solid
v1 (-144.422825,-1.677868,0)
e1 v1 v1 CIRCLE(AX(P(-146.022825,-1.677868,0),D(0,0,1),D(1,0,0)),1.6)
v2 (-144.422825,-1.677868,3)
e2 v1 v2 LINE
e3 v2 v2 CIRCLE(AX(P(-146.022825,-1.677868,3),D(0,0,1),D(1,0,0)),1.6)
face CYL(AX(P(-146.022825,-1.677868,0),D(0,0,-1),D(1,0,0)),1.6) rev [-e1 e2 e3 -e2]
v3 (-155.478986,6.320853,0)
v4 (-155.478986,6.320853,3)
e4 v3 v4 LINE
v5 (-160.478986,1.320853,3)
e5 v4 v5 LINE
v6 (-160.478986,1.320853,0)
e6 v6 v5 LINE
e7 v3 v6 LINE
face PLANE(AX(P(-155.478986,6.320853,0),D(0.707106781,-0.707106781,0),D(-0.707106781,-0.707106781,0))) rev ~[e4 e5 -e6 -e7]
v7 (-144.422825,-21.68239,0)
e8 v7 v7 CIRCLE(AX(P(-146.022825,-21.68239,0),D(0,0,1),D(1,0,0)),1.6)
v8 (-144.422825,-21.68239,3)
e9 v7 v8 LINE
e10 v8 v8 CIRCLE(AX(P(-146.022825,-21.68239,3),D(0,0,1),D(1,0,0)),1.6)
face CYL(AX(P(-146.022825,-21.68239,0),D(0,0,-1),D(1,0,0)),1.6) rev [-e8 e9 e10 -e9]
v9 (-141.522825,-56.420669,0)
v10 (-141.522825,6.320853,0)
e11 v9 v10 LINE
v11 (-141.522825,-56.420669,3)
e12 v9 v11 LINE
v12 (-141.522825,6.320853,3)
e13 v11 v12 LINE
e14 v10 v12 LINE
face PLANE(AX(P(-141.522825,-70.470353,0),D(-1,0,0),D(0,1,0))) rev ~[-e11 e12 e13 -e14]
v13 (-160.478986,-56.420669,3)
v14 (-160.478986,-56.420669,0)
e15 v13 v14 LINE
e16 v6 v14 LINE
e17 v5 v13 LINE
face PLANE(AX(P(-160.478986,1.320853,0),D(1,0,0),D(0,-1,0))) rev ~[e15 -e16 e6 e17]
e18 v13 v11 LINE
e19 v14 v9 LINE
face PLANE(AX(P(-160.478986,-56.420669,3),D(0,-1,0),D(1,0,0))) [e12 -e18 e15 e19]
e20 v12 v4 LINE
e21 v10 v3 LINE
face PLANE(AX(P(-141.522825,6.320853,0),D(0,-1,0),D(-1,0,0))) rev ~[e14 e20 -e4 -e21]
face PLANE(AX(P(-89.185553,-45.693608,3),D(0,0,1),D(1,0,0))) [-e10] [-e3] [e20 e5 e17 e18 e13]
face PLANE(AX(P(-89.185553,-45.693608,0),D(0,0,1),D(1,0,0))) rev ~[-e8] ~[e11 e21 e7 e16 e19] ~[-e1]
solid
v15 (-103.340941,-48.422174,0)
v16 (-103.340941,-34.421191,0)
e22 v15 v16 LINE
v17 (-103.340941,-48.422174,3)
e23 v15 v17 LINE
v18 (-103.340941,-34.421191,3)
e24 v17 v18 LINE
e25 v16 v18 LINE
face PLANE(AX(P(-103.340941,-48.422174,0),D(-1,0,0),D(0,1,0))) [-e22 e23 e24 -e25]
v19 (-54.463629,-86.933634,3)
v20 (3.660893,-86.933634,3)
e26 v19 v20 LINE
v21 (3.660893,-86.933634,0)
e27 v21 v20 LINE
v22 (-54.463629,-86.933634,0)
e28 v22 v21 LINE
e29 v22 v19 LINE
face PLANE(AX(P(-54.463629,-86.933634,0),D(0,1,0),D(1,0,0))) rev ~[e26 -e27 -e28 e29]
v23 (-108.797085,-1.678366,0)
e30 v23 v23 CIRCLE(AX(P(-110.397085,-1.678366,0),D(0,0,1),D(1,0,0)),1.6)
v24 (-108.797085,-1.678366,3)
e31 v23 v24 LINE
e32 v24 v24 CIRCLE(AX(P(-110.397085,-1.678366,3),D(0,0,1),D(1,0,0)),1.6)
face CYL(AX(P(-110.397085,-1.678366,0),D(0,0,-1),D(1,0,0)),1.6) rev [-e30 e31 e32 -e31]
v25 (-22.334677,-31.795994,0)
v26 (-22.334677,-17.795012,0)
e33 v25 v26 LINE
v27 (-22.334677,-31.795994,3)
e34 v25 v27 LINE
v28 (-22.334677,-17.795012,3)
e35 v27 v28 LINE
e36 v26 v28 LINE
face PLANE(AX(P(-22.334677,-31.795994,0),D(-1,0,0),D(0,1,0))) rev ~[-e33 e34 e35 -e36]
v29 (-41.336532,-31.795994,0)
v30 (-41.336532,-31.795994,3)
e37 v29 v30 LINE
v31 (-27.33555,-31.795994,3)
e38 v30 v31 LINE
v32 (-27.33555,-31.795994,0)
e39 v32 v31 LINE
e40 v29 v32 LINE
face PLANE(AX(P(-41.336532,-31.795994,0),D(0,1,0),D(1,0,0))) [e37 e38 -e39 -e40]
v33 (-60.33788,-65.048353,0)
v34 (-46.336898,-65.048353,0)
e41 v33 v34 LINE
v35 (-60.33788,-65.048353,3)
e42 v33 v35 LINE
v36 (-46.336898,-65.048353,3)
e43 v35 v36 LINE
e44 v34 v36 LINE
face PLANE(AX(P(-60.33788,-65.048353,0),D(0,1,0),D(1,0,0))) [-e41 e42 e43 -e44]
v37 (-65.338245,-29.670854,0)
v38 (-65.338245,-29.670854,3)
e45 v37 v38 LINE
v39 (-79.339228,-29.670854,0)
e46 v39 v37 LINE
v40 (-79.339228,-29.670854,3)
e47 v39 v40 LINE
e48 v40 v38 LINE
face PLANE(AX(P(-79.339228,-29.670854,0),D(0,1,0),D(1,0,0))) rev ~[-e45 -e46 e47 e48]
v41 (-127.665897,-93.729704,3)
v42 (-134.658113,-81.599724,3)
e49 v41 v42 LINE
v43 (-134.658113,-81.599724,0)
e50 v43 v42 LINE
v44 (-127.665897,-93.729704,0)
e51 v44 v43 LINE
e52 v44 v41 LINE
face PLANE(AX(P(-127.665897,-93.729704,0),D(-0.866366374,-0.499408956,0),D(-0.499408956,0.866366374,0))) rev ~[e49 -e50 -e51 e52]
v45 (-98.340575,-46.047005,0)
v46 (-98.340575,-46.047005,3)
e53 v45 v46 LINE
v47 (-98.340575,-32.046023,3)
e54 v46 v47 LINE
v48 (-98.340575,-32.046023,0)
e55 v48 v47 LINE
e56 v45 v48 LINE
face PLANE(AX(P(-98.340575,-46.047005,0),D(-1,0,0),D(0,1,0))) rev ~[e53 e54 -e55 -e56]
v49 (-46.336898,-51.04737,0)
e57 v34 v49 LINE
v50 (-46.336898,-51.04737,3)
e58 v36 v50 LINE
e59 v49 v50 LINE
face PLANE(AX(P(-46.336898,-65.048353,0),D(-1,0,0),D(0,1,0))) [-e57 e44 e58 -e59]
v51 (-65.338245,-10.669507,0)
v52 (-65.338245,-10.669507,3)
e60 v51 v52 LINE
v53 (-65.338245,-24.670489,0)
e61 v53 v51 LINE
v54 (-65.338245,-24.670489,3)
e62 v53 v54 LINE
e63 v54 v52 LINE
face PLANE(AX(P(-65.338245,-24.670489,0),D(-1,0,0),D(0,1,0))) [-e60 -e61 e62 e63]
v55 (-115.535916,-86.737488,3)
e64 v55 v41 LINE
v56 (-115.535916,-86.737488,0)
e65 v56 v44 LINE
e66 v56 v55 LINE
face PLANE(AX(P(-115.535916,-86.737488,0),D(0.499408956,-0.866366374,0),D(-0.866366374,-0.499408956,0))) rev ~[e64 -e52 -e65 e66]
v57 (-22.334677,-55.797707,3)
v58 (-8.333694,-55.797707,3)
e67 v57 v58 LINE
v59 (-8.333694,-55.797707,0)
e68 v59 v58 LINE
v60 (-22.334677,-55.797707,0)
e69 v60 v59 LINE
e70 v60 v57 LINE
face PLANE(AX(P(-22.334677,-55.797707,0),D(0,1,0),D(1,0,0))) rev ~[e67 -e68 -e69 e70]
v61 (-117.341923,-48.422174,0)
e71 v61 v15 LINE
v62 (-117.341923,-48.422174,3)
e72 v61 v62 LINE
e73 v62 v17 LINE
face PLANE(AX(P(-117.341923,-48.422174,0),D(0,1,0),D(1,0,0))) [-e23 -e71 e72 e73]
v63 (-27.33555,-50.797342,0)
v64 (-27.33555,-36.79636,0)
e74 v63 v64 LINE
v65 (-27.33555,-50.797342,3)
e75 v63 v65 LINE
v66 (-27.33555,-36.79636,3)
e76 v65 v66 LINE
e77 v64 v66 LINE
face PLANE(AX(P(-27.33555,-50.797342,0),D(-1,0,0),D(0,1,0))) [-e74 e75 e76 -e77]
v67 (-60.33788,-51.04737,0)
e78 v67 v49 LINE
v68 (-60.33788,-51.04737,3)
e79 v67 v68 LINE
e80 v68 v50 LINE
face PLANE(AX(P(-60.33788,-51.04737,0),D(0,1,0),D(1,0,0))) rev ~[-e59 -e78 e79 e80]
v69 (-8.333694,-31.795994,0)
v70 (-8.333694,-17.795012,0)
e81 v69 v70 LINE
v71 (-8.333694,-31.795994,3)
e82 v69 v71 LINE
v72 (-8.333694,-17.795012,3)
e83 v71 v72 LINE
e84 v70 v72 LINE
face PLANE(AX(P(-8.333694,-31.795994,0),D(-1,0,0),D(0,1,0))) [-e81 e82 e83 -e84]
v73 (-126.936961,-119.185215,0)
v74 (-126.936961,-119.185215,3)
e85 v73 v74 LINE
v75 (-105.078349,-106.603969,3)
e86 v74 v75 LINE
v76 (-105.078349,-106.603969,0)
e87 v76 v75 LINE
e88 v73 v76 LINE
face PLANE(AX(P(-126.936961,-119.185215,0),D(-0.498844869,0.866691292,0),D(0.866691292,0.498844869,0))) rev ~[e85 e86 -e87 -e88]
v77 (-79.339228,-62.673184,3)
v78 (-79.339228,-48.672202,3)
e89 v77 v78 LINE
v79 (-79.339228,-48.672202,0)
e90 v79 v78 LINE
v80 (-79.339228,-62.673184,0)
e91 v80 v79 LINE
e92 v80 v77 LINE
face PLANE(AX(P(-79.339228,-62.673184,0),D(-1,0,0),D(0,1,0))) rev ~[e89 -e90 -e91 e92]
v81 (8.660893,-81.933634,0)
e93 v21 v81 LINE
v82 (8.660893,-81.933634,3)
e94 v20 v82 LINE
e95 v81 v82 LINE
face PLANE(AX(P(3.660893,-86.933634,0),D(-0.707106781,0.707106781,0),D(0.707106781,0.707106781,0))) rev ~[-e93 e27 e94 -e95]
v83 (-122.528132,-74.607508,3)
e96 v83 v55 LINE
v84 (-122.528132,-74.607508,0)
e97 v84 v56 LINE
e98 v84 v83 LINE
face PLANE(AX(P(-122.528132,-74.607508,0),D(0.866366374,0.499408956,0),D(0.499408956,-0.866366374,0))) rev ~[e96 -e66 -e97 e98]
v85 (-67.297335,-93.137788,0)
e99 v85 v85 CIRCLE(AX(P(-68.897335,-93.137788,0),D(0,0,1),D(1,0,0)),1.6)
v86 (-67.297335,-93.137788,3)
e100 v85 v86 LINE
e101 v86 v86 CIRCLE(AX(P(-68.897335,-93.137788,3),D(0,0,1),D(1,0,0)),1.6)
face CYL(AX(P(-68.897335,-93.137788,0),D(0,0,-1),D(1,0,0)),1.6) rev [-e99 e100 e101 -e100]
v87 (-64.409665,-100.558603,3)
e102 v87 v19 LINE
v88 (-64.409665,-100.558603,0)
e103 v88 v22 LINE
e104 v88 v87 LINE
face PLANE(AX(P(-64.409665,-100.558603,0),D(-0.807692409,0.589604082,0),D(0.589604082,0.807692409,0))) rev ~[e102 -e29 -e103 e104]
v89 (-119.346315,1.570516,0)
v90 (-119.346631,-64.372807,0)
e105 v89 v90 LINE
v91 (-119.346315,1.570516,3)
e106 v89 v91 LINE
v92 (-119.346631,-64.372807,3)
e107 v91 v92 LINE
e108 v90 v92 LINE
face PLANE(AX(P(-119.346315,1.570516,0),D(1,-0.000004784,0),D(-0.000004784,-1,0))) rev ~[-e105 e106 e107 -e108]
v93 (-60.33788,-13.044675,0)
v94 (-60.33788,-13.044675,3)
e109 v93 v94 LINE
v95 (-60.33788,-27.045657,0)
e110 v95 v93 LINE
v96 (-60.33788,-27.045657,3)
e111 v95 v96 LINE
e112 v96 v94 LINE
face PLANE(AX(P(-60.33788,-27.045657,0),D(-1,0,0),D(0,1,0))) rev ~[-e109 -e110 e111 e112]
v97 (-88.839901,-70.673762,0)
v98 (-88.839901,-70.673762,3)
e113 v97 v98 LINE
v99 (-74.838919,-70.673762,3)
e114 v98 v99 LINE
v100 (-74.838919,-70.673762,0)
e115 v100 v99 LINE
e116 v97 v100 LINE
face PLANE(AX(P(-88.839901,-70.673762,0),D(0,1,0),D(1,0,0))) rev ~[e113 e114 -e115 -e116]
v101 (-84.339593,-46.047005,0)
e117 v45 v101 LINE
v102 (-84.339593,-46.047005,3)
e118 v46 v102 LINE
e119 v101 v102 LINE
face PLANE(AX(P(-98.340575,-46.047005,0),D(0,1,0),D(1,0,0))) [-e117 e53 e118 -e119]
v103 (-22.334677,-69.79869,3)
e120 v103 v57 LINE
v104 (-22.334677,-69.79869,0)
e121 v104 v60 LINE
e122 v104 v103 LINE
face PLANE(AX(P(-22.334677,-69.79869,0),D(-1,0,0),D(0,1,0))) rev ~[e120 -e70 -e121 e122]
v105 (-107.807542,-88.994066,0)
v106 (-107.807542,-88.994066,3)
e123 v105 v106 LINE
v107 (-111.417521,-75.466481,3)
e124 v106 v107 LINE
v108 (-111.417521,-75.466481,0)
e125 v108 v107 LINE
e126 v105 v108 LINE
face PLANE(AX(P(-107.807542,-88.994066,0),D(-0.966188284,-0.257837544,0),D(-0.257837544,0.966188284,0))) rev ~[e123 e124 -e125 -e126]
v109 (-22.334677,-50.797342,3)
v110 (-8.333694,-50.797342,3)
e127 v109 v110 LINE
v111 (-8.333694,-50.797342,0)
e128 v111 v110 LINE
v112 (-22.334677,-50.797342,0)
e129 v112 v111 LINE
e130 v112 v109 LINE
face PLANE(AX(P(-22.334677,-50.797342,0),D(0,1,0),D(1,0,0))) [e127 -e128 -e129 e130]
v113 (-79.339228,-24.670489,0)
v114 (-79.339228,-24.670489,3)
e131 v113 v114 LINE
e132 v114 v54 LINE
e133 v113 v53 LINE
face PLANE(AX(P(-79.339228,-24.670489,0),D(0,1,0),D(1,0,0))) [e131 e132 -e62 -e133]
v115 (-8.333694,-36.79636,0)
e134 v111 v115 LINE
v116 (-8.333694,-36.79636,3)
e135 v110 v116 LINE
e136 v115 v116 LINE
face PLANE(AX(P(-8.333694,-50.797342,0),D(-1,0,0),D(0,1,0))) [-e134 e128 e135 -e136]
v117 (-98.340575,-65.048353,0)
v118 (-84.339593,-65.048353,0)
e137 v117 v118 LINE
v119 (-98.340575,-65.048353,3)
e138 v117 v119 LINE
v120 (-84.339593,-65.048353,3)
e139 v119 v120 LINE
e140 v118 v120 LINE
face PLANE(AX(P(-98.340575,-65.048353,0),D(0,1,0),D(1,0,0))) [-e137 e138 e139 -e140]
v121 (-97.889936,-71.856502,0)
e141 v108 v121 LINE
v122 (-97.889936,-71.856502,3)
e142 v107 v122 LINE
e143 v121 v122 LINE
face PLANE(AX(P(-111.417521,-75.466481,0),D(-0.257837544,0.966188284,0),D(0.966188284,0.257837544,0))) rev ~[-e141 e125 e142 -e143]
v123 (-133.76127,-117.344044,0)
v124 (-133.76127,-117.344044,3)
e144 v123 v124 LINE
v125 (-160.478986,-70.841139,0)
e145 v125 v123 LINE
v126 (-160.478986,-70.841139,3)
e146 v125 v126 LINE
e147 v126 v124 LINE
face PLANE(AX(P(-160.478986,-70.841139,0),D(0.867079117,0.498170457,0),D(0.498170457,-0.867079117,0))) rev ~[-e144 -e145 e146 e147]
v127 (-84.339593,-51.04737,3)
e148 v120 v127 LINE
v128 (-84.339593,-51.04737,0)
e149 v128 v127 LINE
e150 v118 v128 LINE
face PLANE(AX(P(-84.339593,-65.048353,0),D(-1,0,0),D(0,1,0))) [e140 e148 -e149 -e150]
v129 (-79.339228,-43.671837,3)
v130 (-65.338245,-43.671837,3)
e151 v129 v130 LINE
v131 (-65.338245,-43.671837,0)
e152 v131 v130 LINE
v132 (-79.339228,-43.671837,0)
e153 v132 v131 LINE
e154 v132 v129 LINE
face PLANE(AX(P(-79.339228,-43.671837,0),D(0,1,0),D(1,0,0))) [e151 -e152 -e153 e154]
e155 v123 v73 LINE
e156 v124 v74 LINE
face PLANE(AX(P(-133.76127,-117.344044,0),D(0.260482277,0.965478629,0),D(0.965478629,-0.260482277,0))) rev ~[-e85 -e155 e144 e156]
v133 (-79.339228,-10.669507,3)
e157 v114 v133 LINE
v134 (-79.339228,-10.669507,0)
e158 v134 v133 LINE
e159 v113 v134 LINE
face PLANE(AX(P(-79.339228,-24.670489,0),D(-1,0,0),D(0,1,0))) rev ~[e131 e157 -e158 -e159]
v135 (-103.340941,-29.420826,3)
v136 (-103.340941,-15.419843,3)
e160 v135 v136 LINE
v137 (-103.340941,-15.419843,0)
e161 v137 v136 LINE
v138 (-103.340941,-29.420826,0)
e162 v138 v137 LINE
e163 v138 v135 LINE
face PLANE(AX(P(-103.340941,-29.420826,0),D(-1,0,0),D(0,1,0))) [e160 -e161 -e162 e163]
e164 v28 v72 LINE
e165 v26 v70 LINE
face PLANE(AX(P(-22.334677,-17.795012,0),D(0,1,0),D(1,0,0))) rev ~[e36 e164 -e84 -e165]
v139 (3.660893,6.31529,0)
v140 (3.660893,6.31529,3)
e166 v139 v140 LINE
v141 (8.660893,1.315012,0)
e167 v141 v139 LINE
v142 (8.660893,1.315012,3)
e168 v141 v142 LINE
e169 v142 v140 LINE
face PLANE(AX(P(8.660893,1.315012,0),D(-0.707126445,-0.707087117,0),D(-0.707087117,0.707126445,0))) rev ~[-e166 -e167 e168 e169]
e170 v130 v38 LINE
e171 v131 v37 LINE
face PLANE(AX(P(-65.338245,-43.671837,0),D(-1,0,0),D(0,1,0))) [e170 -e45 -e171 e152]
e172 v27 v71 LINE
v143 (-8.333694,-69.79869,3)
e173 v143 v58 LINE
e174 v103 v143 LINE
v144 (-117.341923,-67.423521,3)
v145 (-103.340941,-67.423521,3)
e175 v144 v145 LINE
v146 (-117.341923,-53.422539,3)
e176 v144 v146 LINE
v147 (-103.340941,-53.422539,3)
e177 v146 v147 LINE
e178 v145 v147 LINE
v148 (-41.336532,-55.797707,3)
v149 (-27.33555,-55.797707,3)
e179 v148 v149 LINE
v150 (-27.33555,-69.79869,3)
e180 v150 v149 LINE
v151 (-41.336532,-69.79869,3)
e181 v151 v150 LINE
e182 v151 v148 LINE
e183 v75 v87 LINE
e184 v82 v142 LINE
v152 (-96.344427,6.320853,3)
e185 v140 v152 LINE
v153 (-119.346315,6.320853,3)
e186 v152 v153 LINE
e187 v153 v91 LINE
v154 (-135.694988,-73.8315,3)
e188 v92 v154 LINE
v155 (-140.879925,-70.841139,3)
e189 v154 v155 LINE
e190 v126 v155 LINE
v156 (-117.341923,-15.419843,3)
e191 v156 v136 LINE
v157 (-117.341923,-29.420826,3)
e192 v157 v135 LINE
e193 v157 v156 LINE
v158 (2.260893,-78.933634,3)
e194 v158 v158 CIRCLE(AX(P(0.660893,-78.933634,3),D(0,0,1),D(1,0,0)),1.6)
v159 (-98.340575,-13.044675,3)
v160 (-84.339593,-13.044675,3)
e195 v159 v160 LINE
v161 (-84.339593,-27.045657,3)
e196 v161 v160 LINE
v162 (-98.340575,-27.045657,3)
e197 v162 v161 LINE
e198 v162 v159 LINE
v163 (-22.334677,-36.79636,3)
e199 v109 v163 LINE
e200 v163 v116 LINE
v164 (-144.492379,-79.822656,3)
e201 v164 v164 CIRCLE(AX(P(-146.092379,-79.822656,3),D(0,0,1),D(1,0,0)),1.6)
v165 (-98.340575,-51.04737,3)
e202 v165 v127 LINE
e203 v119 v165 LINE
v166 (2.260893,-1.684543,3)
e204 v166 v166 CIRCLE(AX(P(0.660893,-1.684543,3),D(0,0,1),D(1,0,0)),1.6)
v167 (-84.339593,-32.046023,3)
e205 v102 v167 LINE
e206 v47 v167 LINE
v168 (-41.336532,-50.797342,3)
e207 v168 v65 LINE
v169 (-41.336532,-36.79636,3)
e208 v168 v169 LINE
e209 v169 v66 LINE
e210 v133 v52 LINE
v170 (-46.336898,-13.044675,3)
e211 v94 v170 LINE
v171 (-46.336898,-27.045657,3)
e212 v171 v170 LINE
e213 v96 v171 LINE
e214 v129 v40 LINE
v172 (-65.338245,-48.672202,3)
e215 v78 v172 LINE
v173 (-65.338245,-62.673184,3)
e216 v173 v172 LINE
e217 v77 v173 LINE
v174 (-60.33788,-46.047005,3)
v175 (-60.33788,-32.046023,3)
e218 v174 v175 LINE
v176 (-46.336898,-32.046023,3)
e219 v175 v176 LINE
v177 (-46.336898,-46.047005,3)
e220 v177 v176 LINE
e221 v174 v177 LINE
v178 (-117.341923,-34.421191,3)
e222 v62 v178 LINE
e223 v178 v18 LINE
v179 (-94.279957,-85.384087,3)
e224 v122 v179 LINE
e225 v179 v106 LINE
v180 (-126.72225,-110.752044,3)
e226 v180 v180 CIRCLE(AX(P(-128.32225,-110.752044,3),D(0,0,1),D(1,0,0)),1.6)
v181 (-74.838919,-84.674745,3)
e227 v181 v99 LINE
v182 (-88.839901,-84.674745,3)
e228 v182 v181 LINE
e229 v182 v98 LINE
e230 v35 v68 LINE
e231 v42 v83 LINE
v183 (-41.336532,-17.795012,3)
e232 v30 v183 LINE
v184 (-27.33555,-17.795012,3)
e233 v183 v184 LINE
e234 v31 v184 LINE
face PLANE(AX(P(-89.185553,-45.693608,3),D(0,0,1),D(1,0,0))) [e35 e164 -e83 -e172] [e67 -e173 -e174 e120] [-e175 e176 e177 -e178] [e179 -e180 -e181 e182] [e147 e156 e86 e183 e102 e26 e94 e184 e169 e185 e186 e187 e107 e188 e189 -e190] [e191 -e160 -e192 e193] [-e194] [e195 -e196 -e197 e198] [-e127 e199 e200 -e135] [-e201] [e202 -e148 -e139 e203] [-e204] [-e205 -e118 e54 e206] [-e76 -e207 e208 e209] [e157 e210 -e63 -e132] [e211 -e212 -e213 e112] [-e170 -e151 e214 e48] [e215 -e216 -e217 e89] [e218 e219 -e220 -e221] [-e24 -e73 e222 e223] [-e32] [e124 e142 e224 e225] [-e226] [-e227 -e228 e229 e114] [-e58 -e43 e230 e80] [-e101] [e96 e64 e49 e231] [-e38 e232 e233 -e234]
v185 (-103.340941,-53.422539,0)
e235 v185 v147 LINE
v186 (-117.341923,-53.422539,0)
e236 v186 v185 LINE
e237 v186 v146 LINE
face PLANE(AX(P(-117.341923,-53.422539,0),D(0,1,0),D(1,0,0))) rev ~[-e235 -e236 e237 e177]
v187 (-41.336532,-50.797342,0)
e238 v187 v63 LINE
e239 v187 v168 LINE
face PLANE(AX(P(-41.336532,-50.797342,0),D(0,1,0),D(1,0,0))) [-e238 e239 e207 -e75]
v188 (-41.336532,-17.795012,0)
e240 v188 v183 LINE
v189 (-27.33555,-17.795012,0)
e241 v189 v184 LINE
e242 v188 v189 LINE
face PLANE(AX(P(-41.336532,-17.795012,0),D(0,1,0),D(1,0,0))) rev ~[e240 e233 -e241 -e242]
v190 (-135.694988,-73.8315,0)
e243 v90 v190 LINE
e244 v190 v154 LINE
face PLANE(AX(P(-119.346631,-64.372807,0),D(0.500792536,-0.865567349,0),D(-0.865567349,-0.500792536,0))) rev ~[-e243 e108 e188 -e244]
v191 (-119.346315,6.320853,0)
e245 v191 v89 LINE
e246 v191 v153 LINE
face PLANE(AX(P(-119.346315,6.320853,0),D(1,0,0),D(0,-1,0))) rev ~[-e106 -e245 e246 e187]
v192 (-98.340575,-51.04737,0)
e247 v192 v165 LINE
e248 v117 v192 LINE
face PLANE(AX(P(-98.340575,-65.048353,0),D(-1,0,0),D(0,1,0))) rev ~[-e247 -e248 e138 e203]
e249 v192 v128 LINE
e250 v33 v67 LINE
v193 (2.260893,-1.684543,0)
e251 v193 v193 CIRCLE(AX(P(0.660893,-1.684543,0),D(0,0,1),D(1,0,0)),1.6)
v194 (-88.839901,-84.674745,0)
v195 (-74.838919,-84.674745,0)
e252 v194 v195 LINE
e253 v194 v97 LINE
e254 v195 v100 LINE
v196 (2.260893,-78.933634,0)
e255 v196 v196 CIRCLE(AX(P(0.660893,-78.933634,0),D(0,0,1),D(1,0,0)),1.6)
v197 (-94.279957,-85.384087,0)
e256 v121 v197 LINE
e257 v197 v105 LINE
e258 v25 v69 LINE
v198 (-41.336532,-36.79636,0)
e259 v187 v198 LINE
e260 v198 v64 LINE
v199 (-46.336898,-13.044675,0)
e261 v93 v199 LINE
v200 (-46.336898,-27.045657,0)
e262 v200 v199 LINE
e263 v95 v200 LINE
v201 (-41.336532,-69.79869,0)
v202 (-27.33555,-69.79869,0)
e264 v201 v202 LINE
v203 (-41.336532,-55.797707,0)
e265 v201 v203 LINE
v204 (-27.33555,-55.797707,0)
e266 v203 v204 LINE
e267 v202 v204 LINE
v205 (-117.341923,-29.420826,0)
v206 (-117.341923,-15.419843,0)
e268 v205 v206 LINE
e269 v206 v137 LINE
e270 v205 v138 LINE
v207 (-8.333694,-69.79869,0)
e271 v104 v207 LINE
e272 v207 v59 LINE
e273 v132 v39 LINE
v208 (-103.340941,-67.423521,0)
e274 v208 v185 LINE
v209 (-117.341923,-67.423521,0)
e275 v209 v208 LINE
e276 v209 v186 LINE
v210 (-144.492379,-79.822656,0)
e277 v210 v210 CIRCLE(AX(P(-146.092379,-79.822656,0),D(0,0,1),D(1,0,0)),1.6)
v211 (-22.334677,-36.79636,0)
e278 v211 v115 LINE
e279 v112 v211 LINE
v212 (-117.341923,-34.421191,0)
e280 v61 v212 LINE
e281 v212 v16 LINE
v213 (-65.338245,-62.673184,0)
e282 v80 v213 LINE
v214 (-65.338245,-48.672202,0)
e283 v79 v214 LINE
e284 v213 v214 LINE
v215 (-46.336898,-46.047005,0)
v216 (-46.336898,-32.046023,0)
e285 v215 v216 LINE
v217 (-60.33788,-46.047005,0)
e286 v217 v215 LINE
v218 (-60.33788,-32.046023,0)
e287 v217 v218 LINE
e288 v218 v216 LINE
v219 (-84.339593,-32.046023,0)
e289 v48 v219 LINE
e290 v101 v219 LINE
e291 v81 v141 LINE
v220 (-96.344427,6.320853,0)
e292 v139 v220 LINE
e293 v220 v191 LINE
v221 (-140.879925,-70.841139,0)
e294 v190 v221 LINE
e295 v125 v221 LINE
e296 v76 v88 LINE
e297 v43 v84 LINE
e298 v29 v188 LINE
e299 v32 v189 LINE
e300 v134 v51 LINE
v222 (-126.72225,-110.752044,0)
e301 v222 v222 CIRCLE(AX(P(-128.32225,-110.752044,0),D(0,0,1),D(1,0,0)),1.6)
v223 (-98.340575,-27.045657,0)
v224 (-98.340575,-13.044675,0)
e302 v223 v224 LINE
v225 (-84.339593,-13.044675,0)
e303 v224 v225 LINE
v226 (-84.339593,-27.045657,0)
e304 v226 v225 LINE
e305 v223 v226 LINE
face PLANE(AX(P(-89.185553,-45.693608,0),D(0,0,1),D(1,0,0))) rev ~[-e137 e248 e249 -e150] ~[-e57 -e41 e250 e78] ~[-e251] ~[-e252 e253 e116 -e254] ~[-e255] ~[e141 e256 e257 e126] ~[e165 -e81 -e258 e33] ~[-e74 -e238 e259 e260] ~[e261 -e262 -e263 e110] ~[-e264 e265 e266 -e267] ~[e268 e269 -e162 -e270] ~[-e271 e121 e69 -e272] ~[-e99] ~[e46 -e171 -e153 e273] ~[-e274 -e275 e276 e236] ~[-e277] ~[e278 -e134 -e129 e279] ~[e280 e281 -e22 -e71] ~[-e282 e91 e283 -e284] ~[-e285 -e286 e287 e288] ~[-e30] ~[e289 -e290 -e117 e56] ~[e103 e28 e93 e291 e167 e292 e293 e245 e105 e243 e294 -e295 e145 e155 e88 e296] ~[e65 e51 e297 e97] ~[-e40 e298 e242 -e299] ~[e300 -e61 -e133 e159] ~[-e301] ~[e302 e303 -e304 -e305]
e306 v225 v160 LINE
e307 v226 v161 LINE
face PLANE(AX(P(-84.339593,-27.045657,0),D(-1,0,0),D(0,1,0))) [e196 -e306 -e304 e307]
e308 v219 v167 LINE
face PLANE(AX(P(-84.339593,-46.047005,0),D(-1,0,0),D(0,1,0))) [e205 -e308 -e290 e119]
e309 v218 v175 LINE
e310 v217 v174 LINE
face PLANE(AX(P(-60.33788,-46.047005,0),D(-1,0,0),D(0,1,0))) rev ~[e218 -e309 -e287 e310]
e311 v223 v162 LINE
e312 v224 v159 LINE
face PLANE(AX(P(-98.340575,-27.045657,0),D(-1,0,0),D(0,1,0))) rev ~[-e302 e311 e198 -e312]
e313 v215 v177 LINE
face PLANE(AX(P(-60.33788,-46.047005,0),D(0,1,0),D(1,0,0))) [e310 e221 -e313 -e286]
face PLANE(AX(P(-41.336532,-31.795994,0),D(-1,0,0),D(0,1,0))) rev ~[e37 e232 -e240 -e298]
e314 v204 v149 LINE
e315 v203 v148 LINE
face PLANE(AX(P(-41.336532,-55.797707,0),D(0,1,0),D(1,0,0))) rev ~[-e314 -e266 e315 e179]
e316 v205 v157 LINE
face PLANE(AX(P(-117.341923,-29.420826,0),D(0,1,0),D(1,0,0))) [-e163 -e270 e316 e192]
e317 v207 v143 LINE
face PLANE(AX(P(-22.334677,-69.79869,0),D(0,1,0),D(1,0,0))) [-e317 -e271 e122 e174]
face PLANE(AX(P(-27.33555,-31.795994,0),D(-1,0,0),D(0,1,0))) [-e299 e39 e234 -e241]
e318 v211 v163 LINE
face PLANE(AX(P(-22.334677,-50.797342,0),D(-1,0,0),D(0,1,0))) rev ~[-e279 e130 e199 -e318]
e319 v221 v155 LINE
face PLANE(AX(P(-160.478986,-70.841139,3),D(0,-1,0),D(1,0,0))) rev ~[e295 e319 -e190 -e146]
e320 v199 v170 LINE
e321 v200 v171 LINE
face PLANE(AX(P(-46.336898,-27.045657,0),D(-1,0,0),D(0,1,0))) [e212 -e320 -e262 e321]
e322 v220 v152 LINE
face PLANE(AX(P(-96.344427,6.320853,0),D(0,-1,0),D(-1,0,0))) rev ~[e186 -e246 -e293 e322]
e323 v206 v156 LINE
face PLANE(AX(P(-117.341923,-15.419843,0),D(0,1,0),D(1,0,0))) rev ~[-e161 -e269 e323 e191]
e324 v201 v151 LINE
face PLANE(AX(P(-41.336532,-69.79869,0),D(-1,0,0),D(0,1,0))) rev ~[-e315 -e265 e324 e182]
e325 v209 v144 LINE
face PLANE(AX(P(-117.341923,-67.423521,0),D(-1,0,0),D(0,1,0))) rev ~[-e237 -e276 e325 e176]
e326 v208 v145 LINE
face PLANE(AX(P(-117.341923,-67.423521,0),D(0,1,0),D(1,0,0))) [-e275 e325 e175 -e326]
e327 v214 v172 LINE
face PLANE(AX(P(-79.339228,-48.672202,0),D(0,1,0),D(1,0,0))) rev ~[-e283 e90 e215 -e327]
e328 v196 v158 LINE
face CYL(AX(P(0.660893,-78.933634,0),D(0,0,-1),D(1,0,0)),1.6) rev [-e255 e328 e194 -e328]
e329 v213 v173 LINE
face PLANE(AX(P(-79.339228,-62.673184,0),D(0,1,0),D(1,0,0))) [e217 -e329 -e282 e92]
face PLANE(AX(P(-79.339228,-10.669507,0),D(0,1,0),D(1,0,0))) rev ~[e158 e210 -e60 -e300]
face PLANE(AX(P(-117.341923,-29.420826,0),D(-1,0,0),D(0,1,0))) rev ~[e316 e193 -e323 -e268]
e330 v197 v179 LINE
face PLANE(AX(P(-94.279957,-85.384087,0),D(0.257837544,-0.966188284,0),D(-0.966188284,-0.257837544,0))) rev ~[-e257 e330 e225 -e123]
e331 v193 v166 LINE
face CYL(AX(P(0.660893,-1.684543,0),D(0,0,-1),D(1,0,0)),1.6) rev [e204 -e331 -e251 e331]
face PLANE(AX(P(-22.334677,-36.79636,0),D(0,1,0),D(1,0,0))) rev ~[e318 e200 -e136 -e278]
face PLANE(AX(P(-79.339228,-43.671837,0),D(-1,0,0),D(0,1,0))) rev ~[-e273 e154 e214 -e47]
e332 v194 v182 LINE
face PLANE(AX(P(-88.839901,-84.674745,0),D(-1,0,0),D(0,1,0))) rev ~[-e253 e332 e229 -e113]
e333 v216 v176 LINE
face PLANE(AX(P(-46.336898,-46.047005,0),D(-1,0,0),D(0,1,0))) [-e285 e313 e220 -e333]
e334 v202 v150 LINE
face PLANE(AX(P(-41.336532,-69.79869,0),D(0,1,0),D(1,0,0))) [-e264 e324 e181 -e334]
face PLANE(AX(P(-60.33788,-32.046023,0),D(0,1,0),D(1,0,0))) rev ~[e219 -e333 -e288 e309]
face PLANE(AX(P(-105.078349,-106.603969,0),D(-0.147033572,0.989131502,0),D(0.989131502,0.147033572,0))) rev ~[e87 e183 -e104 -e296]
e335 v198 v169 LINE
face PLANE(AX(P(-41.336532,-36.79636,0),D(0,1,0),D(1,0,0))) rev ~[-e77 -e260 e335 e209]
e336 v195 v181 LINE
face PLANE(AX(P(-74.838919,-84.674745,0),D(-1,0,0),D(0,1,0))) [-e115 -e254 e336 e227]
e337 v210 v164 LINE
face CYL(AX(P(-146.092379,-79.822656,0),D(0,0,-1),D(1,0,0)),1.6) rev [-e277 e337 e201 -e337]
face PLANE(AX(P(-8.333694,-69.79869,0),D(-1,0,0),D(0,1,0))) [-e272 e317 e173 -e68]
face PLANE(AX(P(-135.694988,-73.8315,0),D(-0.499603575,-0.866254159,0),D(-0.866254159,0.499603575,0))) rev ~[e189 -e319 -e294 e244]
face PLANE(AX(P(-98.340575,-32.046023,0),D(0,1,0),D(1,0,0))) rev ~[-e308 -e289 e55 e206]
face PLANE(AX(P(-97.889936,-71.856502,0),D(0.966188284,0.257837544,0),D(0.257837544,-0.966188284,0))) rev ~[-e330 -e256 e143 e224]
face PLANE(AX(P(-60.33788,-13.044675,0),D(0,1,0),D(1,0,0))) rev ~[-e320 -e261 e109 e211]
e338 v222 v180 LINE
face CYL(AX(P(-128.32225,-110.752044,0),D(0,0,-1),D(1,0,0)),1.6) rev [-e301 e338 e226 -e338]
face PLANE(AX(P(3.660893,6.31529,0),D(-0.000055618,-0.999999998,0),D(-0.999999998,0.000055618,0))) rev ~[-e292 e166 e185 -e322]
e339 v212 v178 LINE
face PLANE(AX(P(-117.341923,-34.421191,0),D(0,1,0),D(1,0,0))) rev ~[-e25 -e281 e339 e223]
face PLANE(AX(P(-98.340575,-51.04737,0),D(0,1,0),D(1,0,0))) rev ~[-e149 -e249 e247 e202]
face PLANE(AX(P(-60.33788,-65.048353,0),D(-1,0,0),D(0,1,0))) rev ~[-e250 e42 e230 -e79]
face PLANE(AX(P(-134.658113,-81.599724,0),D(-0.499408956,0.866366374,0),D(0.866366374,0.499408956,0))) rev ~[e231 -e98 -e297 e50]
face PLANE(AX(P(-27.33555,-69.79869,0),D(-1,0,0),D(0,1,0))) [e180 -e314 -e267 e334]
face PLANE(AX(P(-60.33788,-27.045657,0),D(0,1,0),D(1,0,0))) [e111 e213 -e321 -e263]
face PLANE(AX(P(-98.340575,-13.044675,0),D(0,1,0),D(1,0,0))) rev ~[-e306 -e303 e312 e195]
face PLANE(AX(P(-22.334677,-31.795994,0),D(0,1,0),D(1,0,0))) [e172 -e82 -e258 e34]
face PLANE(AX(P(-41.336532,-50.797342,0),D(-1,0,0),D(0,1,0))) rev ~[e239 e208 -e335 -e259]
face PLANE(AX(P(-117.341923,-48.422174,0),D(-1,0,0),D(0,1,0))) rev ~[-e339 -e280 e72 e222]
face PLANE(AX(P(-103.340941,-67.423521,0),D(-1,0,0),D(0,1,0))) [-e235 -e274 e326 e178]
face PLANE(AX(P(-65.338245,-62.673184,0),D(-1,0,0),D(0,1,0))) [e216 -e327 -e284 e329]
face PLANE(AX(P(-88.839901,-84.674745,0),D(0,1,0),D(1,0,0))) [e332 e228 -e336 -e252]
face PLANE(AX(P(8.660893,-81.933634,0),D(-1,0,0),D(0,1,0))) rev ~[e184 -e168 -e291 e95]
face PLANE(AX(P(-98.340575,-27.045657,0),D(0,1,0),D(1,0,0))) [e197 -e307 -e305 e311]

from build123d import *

# Parameters (mm, degrees)
SWITCHPLATE_R           = 1.6
SWITCHPLATE_W           = 14.000982373
SWITCHPLATE_H           = 14.000982374
SWITCHPLATE_H_2         = 14.000982373
SWITCHPLATE_W_2         = 14.000982374
BOSS_EXTRU_2_DEPTH      = 3
ESQUISSE1_W             = 20.456160795
ESQUISSE1_H             = 14.420470361
ENL_V_MAT_EXTRU_1_DEPTH = 10


with BuildPart() as part:
    # Switchplate → Boss.-Extru.2 (new body)
    with BuildSketch(Plane.XY):
        Polygon((-160.478985875, -70.841138967), (-133.761270027, -117.344044002), (-126.936961278, -119.18521524), (-105.07834936, -106.603969177), (-64.409664562, -100.558603138), (-54.463628843, -86.933633781), (3.660893039, -86.933633781), (8.660893039, -81.933633781), (8.660893039, 1.315012353), (3.660893047, 6.315290442), (-96.344426674, 6.320852512), (-103.340940531, 6.320852512), (-119.346315028, 6.320852512), (-119.346315028, 1.570515597), (-119.346630506, -64.372807463), (-135.694988334, -73.831500172), (-141.52282508, -70.47035259), (-141.52282508, 1.570515597), (-141.52282508, 6.320852512), (-155.478985875, 6.320852512), (-160.478985875, 1.320852512), (-160.478985875, -3.429484403), align=None)
        with Locations((0.660893039, -1.684542717)):
            Circle(SWITCHPLATE_R, mode=Mode.SUBTRACT)
        with Locations((-110.397084988, -1.678365923)):
            Circle(SWITCHPLATE_R, mode=Mode.SUBTRACT)
        with Locations((0.660893039, -78.933633781)):
            Circle(SWITCHPLATE_R, mode=Mode.SUBTRACT)
        with Locations((-68.897334865, -93.137788223)):
            Circle(SWITCHPLATE_R, mode=Mode.SUBTRACT)
        with Locations((-128.322250168, -110.752044388)):
            Circle(SWITCHPLATE_R, mode=Mode.SUBTRACT)
        with Locations((-146.0923789, -79.822656053)):
            Circle(SWITCHPLATE_R, mode=Mode.SUBTRACT)
        with Locations((-146.02282508, -1.677868186)):
            Circle(SWITCHPLATE_R, mode=Mode.SUBTRACT)
        with Locations((-146.02282508, -21.682390047)):
            Circle(SWITCHPLATE_R, mode=Mode.SUBTRACT)
        with Locations((-110.341431718, -22.42033468)):
            Rectangle(SWITCHPLATE_W, SWITCHPLATE_H, mode=Mode.SUBTRACT)
        with Locations((-91.340084057, -20.045166224)):
            Rectangle(SWITCHPLATE_W, SWITCHPLATE_H_2, mode=Mode.SUBTRACT)
        with Locations((-72.338736396, -17.669997767)):
            Rectangle(SWITCHPLATE_W_2, SWITCHPLATE_H, mode=Mode.SUBTRACT)
        with Locations((-53.337388735, -20.045166225)):
            Rectangle(SWITCHPLATE_W_2, SWITCHPLATE_H, mode=Mode.SUBTRACT)
        with Locations((-34.336041075, -24.795503141)):
            Rectangle(SWITCHPLATE_W_2, SWITCHPLATE_H, mode=Mode.SUBTRACT)
        with Locations((-15.334185378, -24.795503142)):
            Rectangle(SWITCHPLATE_W_2, SWITCHPLATE_H, mode=Mode.SUBTRACT)
        with Locations((-110.341431718, -41.421682341)):
            Rectangle(SWITCHPLATE_W_2, SWITCHPLATE_H, mode=Mode.SUBTRACT)
        with Locations((-91.340084058, -39.046513884)):
            Rectangle(SWITCHPLATE_W, SWITCHPLATE_H, mode=Mode.SUBTRACT)
        with Locations((-72.338736397, -36.671345428)):
            Rectangle(SWITCHPLATE_W_2, SWITCHPLATE_H_2, mode=Mode.SUBTRACT)
        with Locations((-53.337388736, -39.046513886)):
            Rectangle(SWITCHPLATE_W_2, SWITCHPLATE_H, mode=Mode.SUBTRACT)
        with Locations((-34.336041076, -43.796850802)):
            Rectangle(SWITCHPLATE_W, SWITCHPLATE_H, mode=Mode.SUBTRACT)
        with Locations((-15.334185379, -43.796850803)):
            Rectangle(SWITCHPLATE_W_2, SWITCHPLATE_H, mode=Mode.SUBTRACT)
        with Locations((-15.33418538, -62.798198464)):
            Rectangle(SWITCHPLATE_W_2, SWITCHPLATE_H_2, mode=Mode.SUBTRACT)
        with Locations((-34.336041077, -62.798198463)):
            Rectangle(SWITCHPLATE_W, SWITCHPLATE_H, mode=Mode.SUBTRACT)
        with Locations((-53.337388737, -58.047861547)):
            Rectangle(SWITCHPLATE_W_2, SWITCHPLATE_H, mode=Mode.SUBTRACT)
        with Locations((-72.338736397, -55.672693088)):
            Rectangle(SWITCHPLATE_W, SWITCHPLATE_H, mode=Mode.SUBTRACT)
        with Locations((-91.340084058, -58.047861545)):
            Rectangle(SWITCHPLATE_W_2, SWITCHPLATE_H, mode=Mode.SUBTRACT)
        with Locations((-110.341431719, -60.423030002)):
            Rectangle(SWITCHPLATE_W_2, SWITCHPLATE_H, mode=Mode.SUBTRACT)
        with Locations((-81.839410229, -77.674253537)):
            Rectangle(SWITCHPLATE_W_2, SWITCHPLATE_H, mode=Mode.SUBTRACT)
        Polygon((-111.417520933, -75.466480675), (-97.889935794, -71.856501764), (-94.279956882, -85.384086902), (-107.807542021, -88.994065814), align=None, mode=Mode.SUBTRACT)
        Polygon((-134.658112592, -81.599723585), (-122.528132256, -74.607507592), (-115.535916264, -86.737487928), (-127.665896599, -93.729703921), align=None, mode=Mode.SUBTRACT)
    extrude(amount=BOSS_EXTRU_2_DEPTH)

    # Esquisse1 → Enlèv. mat.-Extru.1 (cut)
    with BuildSketch(Plane.XY.offset(3)):
        with Locations((-150.250905477, -63.630903787)):
            Rectangle(ESQUISSE1_W, ESQUISSE1_H)
    extrude(amount=-ENL_V_MAT_EXTRU_1_DEPTH, mode=Mode.SUBTRACT)


with BuildPart() as enl_v_mat_extru_1_piece_1:
    # of the separate pieces the step leaves, piece 1, a body of its own (enl_v_mat_extru_1_pieces)
    add(part.part.solids().sort_by_distance((-160.478985875, -70.841138967, 0))[0])


with BuildPart() as enl_v_mat_extru_1_piece_2:
    # of the separate pieces the step leaves, piece 2, a body of its own (enl_v_mat_extru_1_pieces)
    add(part.part.solids().sort_by_distance((-160.478985875, 1.320852512, 0))[0])


solid = Compound([enl_v_mat_extru_1_piece_1.part, enl_v_mat_extru_1_piece_2.part])
